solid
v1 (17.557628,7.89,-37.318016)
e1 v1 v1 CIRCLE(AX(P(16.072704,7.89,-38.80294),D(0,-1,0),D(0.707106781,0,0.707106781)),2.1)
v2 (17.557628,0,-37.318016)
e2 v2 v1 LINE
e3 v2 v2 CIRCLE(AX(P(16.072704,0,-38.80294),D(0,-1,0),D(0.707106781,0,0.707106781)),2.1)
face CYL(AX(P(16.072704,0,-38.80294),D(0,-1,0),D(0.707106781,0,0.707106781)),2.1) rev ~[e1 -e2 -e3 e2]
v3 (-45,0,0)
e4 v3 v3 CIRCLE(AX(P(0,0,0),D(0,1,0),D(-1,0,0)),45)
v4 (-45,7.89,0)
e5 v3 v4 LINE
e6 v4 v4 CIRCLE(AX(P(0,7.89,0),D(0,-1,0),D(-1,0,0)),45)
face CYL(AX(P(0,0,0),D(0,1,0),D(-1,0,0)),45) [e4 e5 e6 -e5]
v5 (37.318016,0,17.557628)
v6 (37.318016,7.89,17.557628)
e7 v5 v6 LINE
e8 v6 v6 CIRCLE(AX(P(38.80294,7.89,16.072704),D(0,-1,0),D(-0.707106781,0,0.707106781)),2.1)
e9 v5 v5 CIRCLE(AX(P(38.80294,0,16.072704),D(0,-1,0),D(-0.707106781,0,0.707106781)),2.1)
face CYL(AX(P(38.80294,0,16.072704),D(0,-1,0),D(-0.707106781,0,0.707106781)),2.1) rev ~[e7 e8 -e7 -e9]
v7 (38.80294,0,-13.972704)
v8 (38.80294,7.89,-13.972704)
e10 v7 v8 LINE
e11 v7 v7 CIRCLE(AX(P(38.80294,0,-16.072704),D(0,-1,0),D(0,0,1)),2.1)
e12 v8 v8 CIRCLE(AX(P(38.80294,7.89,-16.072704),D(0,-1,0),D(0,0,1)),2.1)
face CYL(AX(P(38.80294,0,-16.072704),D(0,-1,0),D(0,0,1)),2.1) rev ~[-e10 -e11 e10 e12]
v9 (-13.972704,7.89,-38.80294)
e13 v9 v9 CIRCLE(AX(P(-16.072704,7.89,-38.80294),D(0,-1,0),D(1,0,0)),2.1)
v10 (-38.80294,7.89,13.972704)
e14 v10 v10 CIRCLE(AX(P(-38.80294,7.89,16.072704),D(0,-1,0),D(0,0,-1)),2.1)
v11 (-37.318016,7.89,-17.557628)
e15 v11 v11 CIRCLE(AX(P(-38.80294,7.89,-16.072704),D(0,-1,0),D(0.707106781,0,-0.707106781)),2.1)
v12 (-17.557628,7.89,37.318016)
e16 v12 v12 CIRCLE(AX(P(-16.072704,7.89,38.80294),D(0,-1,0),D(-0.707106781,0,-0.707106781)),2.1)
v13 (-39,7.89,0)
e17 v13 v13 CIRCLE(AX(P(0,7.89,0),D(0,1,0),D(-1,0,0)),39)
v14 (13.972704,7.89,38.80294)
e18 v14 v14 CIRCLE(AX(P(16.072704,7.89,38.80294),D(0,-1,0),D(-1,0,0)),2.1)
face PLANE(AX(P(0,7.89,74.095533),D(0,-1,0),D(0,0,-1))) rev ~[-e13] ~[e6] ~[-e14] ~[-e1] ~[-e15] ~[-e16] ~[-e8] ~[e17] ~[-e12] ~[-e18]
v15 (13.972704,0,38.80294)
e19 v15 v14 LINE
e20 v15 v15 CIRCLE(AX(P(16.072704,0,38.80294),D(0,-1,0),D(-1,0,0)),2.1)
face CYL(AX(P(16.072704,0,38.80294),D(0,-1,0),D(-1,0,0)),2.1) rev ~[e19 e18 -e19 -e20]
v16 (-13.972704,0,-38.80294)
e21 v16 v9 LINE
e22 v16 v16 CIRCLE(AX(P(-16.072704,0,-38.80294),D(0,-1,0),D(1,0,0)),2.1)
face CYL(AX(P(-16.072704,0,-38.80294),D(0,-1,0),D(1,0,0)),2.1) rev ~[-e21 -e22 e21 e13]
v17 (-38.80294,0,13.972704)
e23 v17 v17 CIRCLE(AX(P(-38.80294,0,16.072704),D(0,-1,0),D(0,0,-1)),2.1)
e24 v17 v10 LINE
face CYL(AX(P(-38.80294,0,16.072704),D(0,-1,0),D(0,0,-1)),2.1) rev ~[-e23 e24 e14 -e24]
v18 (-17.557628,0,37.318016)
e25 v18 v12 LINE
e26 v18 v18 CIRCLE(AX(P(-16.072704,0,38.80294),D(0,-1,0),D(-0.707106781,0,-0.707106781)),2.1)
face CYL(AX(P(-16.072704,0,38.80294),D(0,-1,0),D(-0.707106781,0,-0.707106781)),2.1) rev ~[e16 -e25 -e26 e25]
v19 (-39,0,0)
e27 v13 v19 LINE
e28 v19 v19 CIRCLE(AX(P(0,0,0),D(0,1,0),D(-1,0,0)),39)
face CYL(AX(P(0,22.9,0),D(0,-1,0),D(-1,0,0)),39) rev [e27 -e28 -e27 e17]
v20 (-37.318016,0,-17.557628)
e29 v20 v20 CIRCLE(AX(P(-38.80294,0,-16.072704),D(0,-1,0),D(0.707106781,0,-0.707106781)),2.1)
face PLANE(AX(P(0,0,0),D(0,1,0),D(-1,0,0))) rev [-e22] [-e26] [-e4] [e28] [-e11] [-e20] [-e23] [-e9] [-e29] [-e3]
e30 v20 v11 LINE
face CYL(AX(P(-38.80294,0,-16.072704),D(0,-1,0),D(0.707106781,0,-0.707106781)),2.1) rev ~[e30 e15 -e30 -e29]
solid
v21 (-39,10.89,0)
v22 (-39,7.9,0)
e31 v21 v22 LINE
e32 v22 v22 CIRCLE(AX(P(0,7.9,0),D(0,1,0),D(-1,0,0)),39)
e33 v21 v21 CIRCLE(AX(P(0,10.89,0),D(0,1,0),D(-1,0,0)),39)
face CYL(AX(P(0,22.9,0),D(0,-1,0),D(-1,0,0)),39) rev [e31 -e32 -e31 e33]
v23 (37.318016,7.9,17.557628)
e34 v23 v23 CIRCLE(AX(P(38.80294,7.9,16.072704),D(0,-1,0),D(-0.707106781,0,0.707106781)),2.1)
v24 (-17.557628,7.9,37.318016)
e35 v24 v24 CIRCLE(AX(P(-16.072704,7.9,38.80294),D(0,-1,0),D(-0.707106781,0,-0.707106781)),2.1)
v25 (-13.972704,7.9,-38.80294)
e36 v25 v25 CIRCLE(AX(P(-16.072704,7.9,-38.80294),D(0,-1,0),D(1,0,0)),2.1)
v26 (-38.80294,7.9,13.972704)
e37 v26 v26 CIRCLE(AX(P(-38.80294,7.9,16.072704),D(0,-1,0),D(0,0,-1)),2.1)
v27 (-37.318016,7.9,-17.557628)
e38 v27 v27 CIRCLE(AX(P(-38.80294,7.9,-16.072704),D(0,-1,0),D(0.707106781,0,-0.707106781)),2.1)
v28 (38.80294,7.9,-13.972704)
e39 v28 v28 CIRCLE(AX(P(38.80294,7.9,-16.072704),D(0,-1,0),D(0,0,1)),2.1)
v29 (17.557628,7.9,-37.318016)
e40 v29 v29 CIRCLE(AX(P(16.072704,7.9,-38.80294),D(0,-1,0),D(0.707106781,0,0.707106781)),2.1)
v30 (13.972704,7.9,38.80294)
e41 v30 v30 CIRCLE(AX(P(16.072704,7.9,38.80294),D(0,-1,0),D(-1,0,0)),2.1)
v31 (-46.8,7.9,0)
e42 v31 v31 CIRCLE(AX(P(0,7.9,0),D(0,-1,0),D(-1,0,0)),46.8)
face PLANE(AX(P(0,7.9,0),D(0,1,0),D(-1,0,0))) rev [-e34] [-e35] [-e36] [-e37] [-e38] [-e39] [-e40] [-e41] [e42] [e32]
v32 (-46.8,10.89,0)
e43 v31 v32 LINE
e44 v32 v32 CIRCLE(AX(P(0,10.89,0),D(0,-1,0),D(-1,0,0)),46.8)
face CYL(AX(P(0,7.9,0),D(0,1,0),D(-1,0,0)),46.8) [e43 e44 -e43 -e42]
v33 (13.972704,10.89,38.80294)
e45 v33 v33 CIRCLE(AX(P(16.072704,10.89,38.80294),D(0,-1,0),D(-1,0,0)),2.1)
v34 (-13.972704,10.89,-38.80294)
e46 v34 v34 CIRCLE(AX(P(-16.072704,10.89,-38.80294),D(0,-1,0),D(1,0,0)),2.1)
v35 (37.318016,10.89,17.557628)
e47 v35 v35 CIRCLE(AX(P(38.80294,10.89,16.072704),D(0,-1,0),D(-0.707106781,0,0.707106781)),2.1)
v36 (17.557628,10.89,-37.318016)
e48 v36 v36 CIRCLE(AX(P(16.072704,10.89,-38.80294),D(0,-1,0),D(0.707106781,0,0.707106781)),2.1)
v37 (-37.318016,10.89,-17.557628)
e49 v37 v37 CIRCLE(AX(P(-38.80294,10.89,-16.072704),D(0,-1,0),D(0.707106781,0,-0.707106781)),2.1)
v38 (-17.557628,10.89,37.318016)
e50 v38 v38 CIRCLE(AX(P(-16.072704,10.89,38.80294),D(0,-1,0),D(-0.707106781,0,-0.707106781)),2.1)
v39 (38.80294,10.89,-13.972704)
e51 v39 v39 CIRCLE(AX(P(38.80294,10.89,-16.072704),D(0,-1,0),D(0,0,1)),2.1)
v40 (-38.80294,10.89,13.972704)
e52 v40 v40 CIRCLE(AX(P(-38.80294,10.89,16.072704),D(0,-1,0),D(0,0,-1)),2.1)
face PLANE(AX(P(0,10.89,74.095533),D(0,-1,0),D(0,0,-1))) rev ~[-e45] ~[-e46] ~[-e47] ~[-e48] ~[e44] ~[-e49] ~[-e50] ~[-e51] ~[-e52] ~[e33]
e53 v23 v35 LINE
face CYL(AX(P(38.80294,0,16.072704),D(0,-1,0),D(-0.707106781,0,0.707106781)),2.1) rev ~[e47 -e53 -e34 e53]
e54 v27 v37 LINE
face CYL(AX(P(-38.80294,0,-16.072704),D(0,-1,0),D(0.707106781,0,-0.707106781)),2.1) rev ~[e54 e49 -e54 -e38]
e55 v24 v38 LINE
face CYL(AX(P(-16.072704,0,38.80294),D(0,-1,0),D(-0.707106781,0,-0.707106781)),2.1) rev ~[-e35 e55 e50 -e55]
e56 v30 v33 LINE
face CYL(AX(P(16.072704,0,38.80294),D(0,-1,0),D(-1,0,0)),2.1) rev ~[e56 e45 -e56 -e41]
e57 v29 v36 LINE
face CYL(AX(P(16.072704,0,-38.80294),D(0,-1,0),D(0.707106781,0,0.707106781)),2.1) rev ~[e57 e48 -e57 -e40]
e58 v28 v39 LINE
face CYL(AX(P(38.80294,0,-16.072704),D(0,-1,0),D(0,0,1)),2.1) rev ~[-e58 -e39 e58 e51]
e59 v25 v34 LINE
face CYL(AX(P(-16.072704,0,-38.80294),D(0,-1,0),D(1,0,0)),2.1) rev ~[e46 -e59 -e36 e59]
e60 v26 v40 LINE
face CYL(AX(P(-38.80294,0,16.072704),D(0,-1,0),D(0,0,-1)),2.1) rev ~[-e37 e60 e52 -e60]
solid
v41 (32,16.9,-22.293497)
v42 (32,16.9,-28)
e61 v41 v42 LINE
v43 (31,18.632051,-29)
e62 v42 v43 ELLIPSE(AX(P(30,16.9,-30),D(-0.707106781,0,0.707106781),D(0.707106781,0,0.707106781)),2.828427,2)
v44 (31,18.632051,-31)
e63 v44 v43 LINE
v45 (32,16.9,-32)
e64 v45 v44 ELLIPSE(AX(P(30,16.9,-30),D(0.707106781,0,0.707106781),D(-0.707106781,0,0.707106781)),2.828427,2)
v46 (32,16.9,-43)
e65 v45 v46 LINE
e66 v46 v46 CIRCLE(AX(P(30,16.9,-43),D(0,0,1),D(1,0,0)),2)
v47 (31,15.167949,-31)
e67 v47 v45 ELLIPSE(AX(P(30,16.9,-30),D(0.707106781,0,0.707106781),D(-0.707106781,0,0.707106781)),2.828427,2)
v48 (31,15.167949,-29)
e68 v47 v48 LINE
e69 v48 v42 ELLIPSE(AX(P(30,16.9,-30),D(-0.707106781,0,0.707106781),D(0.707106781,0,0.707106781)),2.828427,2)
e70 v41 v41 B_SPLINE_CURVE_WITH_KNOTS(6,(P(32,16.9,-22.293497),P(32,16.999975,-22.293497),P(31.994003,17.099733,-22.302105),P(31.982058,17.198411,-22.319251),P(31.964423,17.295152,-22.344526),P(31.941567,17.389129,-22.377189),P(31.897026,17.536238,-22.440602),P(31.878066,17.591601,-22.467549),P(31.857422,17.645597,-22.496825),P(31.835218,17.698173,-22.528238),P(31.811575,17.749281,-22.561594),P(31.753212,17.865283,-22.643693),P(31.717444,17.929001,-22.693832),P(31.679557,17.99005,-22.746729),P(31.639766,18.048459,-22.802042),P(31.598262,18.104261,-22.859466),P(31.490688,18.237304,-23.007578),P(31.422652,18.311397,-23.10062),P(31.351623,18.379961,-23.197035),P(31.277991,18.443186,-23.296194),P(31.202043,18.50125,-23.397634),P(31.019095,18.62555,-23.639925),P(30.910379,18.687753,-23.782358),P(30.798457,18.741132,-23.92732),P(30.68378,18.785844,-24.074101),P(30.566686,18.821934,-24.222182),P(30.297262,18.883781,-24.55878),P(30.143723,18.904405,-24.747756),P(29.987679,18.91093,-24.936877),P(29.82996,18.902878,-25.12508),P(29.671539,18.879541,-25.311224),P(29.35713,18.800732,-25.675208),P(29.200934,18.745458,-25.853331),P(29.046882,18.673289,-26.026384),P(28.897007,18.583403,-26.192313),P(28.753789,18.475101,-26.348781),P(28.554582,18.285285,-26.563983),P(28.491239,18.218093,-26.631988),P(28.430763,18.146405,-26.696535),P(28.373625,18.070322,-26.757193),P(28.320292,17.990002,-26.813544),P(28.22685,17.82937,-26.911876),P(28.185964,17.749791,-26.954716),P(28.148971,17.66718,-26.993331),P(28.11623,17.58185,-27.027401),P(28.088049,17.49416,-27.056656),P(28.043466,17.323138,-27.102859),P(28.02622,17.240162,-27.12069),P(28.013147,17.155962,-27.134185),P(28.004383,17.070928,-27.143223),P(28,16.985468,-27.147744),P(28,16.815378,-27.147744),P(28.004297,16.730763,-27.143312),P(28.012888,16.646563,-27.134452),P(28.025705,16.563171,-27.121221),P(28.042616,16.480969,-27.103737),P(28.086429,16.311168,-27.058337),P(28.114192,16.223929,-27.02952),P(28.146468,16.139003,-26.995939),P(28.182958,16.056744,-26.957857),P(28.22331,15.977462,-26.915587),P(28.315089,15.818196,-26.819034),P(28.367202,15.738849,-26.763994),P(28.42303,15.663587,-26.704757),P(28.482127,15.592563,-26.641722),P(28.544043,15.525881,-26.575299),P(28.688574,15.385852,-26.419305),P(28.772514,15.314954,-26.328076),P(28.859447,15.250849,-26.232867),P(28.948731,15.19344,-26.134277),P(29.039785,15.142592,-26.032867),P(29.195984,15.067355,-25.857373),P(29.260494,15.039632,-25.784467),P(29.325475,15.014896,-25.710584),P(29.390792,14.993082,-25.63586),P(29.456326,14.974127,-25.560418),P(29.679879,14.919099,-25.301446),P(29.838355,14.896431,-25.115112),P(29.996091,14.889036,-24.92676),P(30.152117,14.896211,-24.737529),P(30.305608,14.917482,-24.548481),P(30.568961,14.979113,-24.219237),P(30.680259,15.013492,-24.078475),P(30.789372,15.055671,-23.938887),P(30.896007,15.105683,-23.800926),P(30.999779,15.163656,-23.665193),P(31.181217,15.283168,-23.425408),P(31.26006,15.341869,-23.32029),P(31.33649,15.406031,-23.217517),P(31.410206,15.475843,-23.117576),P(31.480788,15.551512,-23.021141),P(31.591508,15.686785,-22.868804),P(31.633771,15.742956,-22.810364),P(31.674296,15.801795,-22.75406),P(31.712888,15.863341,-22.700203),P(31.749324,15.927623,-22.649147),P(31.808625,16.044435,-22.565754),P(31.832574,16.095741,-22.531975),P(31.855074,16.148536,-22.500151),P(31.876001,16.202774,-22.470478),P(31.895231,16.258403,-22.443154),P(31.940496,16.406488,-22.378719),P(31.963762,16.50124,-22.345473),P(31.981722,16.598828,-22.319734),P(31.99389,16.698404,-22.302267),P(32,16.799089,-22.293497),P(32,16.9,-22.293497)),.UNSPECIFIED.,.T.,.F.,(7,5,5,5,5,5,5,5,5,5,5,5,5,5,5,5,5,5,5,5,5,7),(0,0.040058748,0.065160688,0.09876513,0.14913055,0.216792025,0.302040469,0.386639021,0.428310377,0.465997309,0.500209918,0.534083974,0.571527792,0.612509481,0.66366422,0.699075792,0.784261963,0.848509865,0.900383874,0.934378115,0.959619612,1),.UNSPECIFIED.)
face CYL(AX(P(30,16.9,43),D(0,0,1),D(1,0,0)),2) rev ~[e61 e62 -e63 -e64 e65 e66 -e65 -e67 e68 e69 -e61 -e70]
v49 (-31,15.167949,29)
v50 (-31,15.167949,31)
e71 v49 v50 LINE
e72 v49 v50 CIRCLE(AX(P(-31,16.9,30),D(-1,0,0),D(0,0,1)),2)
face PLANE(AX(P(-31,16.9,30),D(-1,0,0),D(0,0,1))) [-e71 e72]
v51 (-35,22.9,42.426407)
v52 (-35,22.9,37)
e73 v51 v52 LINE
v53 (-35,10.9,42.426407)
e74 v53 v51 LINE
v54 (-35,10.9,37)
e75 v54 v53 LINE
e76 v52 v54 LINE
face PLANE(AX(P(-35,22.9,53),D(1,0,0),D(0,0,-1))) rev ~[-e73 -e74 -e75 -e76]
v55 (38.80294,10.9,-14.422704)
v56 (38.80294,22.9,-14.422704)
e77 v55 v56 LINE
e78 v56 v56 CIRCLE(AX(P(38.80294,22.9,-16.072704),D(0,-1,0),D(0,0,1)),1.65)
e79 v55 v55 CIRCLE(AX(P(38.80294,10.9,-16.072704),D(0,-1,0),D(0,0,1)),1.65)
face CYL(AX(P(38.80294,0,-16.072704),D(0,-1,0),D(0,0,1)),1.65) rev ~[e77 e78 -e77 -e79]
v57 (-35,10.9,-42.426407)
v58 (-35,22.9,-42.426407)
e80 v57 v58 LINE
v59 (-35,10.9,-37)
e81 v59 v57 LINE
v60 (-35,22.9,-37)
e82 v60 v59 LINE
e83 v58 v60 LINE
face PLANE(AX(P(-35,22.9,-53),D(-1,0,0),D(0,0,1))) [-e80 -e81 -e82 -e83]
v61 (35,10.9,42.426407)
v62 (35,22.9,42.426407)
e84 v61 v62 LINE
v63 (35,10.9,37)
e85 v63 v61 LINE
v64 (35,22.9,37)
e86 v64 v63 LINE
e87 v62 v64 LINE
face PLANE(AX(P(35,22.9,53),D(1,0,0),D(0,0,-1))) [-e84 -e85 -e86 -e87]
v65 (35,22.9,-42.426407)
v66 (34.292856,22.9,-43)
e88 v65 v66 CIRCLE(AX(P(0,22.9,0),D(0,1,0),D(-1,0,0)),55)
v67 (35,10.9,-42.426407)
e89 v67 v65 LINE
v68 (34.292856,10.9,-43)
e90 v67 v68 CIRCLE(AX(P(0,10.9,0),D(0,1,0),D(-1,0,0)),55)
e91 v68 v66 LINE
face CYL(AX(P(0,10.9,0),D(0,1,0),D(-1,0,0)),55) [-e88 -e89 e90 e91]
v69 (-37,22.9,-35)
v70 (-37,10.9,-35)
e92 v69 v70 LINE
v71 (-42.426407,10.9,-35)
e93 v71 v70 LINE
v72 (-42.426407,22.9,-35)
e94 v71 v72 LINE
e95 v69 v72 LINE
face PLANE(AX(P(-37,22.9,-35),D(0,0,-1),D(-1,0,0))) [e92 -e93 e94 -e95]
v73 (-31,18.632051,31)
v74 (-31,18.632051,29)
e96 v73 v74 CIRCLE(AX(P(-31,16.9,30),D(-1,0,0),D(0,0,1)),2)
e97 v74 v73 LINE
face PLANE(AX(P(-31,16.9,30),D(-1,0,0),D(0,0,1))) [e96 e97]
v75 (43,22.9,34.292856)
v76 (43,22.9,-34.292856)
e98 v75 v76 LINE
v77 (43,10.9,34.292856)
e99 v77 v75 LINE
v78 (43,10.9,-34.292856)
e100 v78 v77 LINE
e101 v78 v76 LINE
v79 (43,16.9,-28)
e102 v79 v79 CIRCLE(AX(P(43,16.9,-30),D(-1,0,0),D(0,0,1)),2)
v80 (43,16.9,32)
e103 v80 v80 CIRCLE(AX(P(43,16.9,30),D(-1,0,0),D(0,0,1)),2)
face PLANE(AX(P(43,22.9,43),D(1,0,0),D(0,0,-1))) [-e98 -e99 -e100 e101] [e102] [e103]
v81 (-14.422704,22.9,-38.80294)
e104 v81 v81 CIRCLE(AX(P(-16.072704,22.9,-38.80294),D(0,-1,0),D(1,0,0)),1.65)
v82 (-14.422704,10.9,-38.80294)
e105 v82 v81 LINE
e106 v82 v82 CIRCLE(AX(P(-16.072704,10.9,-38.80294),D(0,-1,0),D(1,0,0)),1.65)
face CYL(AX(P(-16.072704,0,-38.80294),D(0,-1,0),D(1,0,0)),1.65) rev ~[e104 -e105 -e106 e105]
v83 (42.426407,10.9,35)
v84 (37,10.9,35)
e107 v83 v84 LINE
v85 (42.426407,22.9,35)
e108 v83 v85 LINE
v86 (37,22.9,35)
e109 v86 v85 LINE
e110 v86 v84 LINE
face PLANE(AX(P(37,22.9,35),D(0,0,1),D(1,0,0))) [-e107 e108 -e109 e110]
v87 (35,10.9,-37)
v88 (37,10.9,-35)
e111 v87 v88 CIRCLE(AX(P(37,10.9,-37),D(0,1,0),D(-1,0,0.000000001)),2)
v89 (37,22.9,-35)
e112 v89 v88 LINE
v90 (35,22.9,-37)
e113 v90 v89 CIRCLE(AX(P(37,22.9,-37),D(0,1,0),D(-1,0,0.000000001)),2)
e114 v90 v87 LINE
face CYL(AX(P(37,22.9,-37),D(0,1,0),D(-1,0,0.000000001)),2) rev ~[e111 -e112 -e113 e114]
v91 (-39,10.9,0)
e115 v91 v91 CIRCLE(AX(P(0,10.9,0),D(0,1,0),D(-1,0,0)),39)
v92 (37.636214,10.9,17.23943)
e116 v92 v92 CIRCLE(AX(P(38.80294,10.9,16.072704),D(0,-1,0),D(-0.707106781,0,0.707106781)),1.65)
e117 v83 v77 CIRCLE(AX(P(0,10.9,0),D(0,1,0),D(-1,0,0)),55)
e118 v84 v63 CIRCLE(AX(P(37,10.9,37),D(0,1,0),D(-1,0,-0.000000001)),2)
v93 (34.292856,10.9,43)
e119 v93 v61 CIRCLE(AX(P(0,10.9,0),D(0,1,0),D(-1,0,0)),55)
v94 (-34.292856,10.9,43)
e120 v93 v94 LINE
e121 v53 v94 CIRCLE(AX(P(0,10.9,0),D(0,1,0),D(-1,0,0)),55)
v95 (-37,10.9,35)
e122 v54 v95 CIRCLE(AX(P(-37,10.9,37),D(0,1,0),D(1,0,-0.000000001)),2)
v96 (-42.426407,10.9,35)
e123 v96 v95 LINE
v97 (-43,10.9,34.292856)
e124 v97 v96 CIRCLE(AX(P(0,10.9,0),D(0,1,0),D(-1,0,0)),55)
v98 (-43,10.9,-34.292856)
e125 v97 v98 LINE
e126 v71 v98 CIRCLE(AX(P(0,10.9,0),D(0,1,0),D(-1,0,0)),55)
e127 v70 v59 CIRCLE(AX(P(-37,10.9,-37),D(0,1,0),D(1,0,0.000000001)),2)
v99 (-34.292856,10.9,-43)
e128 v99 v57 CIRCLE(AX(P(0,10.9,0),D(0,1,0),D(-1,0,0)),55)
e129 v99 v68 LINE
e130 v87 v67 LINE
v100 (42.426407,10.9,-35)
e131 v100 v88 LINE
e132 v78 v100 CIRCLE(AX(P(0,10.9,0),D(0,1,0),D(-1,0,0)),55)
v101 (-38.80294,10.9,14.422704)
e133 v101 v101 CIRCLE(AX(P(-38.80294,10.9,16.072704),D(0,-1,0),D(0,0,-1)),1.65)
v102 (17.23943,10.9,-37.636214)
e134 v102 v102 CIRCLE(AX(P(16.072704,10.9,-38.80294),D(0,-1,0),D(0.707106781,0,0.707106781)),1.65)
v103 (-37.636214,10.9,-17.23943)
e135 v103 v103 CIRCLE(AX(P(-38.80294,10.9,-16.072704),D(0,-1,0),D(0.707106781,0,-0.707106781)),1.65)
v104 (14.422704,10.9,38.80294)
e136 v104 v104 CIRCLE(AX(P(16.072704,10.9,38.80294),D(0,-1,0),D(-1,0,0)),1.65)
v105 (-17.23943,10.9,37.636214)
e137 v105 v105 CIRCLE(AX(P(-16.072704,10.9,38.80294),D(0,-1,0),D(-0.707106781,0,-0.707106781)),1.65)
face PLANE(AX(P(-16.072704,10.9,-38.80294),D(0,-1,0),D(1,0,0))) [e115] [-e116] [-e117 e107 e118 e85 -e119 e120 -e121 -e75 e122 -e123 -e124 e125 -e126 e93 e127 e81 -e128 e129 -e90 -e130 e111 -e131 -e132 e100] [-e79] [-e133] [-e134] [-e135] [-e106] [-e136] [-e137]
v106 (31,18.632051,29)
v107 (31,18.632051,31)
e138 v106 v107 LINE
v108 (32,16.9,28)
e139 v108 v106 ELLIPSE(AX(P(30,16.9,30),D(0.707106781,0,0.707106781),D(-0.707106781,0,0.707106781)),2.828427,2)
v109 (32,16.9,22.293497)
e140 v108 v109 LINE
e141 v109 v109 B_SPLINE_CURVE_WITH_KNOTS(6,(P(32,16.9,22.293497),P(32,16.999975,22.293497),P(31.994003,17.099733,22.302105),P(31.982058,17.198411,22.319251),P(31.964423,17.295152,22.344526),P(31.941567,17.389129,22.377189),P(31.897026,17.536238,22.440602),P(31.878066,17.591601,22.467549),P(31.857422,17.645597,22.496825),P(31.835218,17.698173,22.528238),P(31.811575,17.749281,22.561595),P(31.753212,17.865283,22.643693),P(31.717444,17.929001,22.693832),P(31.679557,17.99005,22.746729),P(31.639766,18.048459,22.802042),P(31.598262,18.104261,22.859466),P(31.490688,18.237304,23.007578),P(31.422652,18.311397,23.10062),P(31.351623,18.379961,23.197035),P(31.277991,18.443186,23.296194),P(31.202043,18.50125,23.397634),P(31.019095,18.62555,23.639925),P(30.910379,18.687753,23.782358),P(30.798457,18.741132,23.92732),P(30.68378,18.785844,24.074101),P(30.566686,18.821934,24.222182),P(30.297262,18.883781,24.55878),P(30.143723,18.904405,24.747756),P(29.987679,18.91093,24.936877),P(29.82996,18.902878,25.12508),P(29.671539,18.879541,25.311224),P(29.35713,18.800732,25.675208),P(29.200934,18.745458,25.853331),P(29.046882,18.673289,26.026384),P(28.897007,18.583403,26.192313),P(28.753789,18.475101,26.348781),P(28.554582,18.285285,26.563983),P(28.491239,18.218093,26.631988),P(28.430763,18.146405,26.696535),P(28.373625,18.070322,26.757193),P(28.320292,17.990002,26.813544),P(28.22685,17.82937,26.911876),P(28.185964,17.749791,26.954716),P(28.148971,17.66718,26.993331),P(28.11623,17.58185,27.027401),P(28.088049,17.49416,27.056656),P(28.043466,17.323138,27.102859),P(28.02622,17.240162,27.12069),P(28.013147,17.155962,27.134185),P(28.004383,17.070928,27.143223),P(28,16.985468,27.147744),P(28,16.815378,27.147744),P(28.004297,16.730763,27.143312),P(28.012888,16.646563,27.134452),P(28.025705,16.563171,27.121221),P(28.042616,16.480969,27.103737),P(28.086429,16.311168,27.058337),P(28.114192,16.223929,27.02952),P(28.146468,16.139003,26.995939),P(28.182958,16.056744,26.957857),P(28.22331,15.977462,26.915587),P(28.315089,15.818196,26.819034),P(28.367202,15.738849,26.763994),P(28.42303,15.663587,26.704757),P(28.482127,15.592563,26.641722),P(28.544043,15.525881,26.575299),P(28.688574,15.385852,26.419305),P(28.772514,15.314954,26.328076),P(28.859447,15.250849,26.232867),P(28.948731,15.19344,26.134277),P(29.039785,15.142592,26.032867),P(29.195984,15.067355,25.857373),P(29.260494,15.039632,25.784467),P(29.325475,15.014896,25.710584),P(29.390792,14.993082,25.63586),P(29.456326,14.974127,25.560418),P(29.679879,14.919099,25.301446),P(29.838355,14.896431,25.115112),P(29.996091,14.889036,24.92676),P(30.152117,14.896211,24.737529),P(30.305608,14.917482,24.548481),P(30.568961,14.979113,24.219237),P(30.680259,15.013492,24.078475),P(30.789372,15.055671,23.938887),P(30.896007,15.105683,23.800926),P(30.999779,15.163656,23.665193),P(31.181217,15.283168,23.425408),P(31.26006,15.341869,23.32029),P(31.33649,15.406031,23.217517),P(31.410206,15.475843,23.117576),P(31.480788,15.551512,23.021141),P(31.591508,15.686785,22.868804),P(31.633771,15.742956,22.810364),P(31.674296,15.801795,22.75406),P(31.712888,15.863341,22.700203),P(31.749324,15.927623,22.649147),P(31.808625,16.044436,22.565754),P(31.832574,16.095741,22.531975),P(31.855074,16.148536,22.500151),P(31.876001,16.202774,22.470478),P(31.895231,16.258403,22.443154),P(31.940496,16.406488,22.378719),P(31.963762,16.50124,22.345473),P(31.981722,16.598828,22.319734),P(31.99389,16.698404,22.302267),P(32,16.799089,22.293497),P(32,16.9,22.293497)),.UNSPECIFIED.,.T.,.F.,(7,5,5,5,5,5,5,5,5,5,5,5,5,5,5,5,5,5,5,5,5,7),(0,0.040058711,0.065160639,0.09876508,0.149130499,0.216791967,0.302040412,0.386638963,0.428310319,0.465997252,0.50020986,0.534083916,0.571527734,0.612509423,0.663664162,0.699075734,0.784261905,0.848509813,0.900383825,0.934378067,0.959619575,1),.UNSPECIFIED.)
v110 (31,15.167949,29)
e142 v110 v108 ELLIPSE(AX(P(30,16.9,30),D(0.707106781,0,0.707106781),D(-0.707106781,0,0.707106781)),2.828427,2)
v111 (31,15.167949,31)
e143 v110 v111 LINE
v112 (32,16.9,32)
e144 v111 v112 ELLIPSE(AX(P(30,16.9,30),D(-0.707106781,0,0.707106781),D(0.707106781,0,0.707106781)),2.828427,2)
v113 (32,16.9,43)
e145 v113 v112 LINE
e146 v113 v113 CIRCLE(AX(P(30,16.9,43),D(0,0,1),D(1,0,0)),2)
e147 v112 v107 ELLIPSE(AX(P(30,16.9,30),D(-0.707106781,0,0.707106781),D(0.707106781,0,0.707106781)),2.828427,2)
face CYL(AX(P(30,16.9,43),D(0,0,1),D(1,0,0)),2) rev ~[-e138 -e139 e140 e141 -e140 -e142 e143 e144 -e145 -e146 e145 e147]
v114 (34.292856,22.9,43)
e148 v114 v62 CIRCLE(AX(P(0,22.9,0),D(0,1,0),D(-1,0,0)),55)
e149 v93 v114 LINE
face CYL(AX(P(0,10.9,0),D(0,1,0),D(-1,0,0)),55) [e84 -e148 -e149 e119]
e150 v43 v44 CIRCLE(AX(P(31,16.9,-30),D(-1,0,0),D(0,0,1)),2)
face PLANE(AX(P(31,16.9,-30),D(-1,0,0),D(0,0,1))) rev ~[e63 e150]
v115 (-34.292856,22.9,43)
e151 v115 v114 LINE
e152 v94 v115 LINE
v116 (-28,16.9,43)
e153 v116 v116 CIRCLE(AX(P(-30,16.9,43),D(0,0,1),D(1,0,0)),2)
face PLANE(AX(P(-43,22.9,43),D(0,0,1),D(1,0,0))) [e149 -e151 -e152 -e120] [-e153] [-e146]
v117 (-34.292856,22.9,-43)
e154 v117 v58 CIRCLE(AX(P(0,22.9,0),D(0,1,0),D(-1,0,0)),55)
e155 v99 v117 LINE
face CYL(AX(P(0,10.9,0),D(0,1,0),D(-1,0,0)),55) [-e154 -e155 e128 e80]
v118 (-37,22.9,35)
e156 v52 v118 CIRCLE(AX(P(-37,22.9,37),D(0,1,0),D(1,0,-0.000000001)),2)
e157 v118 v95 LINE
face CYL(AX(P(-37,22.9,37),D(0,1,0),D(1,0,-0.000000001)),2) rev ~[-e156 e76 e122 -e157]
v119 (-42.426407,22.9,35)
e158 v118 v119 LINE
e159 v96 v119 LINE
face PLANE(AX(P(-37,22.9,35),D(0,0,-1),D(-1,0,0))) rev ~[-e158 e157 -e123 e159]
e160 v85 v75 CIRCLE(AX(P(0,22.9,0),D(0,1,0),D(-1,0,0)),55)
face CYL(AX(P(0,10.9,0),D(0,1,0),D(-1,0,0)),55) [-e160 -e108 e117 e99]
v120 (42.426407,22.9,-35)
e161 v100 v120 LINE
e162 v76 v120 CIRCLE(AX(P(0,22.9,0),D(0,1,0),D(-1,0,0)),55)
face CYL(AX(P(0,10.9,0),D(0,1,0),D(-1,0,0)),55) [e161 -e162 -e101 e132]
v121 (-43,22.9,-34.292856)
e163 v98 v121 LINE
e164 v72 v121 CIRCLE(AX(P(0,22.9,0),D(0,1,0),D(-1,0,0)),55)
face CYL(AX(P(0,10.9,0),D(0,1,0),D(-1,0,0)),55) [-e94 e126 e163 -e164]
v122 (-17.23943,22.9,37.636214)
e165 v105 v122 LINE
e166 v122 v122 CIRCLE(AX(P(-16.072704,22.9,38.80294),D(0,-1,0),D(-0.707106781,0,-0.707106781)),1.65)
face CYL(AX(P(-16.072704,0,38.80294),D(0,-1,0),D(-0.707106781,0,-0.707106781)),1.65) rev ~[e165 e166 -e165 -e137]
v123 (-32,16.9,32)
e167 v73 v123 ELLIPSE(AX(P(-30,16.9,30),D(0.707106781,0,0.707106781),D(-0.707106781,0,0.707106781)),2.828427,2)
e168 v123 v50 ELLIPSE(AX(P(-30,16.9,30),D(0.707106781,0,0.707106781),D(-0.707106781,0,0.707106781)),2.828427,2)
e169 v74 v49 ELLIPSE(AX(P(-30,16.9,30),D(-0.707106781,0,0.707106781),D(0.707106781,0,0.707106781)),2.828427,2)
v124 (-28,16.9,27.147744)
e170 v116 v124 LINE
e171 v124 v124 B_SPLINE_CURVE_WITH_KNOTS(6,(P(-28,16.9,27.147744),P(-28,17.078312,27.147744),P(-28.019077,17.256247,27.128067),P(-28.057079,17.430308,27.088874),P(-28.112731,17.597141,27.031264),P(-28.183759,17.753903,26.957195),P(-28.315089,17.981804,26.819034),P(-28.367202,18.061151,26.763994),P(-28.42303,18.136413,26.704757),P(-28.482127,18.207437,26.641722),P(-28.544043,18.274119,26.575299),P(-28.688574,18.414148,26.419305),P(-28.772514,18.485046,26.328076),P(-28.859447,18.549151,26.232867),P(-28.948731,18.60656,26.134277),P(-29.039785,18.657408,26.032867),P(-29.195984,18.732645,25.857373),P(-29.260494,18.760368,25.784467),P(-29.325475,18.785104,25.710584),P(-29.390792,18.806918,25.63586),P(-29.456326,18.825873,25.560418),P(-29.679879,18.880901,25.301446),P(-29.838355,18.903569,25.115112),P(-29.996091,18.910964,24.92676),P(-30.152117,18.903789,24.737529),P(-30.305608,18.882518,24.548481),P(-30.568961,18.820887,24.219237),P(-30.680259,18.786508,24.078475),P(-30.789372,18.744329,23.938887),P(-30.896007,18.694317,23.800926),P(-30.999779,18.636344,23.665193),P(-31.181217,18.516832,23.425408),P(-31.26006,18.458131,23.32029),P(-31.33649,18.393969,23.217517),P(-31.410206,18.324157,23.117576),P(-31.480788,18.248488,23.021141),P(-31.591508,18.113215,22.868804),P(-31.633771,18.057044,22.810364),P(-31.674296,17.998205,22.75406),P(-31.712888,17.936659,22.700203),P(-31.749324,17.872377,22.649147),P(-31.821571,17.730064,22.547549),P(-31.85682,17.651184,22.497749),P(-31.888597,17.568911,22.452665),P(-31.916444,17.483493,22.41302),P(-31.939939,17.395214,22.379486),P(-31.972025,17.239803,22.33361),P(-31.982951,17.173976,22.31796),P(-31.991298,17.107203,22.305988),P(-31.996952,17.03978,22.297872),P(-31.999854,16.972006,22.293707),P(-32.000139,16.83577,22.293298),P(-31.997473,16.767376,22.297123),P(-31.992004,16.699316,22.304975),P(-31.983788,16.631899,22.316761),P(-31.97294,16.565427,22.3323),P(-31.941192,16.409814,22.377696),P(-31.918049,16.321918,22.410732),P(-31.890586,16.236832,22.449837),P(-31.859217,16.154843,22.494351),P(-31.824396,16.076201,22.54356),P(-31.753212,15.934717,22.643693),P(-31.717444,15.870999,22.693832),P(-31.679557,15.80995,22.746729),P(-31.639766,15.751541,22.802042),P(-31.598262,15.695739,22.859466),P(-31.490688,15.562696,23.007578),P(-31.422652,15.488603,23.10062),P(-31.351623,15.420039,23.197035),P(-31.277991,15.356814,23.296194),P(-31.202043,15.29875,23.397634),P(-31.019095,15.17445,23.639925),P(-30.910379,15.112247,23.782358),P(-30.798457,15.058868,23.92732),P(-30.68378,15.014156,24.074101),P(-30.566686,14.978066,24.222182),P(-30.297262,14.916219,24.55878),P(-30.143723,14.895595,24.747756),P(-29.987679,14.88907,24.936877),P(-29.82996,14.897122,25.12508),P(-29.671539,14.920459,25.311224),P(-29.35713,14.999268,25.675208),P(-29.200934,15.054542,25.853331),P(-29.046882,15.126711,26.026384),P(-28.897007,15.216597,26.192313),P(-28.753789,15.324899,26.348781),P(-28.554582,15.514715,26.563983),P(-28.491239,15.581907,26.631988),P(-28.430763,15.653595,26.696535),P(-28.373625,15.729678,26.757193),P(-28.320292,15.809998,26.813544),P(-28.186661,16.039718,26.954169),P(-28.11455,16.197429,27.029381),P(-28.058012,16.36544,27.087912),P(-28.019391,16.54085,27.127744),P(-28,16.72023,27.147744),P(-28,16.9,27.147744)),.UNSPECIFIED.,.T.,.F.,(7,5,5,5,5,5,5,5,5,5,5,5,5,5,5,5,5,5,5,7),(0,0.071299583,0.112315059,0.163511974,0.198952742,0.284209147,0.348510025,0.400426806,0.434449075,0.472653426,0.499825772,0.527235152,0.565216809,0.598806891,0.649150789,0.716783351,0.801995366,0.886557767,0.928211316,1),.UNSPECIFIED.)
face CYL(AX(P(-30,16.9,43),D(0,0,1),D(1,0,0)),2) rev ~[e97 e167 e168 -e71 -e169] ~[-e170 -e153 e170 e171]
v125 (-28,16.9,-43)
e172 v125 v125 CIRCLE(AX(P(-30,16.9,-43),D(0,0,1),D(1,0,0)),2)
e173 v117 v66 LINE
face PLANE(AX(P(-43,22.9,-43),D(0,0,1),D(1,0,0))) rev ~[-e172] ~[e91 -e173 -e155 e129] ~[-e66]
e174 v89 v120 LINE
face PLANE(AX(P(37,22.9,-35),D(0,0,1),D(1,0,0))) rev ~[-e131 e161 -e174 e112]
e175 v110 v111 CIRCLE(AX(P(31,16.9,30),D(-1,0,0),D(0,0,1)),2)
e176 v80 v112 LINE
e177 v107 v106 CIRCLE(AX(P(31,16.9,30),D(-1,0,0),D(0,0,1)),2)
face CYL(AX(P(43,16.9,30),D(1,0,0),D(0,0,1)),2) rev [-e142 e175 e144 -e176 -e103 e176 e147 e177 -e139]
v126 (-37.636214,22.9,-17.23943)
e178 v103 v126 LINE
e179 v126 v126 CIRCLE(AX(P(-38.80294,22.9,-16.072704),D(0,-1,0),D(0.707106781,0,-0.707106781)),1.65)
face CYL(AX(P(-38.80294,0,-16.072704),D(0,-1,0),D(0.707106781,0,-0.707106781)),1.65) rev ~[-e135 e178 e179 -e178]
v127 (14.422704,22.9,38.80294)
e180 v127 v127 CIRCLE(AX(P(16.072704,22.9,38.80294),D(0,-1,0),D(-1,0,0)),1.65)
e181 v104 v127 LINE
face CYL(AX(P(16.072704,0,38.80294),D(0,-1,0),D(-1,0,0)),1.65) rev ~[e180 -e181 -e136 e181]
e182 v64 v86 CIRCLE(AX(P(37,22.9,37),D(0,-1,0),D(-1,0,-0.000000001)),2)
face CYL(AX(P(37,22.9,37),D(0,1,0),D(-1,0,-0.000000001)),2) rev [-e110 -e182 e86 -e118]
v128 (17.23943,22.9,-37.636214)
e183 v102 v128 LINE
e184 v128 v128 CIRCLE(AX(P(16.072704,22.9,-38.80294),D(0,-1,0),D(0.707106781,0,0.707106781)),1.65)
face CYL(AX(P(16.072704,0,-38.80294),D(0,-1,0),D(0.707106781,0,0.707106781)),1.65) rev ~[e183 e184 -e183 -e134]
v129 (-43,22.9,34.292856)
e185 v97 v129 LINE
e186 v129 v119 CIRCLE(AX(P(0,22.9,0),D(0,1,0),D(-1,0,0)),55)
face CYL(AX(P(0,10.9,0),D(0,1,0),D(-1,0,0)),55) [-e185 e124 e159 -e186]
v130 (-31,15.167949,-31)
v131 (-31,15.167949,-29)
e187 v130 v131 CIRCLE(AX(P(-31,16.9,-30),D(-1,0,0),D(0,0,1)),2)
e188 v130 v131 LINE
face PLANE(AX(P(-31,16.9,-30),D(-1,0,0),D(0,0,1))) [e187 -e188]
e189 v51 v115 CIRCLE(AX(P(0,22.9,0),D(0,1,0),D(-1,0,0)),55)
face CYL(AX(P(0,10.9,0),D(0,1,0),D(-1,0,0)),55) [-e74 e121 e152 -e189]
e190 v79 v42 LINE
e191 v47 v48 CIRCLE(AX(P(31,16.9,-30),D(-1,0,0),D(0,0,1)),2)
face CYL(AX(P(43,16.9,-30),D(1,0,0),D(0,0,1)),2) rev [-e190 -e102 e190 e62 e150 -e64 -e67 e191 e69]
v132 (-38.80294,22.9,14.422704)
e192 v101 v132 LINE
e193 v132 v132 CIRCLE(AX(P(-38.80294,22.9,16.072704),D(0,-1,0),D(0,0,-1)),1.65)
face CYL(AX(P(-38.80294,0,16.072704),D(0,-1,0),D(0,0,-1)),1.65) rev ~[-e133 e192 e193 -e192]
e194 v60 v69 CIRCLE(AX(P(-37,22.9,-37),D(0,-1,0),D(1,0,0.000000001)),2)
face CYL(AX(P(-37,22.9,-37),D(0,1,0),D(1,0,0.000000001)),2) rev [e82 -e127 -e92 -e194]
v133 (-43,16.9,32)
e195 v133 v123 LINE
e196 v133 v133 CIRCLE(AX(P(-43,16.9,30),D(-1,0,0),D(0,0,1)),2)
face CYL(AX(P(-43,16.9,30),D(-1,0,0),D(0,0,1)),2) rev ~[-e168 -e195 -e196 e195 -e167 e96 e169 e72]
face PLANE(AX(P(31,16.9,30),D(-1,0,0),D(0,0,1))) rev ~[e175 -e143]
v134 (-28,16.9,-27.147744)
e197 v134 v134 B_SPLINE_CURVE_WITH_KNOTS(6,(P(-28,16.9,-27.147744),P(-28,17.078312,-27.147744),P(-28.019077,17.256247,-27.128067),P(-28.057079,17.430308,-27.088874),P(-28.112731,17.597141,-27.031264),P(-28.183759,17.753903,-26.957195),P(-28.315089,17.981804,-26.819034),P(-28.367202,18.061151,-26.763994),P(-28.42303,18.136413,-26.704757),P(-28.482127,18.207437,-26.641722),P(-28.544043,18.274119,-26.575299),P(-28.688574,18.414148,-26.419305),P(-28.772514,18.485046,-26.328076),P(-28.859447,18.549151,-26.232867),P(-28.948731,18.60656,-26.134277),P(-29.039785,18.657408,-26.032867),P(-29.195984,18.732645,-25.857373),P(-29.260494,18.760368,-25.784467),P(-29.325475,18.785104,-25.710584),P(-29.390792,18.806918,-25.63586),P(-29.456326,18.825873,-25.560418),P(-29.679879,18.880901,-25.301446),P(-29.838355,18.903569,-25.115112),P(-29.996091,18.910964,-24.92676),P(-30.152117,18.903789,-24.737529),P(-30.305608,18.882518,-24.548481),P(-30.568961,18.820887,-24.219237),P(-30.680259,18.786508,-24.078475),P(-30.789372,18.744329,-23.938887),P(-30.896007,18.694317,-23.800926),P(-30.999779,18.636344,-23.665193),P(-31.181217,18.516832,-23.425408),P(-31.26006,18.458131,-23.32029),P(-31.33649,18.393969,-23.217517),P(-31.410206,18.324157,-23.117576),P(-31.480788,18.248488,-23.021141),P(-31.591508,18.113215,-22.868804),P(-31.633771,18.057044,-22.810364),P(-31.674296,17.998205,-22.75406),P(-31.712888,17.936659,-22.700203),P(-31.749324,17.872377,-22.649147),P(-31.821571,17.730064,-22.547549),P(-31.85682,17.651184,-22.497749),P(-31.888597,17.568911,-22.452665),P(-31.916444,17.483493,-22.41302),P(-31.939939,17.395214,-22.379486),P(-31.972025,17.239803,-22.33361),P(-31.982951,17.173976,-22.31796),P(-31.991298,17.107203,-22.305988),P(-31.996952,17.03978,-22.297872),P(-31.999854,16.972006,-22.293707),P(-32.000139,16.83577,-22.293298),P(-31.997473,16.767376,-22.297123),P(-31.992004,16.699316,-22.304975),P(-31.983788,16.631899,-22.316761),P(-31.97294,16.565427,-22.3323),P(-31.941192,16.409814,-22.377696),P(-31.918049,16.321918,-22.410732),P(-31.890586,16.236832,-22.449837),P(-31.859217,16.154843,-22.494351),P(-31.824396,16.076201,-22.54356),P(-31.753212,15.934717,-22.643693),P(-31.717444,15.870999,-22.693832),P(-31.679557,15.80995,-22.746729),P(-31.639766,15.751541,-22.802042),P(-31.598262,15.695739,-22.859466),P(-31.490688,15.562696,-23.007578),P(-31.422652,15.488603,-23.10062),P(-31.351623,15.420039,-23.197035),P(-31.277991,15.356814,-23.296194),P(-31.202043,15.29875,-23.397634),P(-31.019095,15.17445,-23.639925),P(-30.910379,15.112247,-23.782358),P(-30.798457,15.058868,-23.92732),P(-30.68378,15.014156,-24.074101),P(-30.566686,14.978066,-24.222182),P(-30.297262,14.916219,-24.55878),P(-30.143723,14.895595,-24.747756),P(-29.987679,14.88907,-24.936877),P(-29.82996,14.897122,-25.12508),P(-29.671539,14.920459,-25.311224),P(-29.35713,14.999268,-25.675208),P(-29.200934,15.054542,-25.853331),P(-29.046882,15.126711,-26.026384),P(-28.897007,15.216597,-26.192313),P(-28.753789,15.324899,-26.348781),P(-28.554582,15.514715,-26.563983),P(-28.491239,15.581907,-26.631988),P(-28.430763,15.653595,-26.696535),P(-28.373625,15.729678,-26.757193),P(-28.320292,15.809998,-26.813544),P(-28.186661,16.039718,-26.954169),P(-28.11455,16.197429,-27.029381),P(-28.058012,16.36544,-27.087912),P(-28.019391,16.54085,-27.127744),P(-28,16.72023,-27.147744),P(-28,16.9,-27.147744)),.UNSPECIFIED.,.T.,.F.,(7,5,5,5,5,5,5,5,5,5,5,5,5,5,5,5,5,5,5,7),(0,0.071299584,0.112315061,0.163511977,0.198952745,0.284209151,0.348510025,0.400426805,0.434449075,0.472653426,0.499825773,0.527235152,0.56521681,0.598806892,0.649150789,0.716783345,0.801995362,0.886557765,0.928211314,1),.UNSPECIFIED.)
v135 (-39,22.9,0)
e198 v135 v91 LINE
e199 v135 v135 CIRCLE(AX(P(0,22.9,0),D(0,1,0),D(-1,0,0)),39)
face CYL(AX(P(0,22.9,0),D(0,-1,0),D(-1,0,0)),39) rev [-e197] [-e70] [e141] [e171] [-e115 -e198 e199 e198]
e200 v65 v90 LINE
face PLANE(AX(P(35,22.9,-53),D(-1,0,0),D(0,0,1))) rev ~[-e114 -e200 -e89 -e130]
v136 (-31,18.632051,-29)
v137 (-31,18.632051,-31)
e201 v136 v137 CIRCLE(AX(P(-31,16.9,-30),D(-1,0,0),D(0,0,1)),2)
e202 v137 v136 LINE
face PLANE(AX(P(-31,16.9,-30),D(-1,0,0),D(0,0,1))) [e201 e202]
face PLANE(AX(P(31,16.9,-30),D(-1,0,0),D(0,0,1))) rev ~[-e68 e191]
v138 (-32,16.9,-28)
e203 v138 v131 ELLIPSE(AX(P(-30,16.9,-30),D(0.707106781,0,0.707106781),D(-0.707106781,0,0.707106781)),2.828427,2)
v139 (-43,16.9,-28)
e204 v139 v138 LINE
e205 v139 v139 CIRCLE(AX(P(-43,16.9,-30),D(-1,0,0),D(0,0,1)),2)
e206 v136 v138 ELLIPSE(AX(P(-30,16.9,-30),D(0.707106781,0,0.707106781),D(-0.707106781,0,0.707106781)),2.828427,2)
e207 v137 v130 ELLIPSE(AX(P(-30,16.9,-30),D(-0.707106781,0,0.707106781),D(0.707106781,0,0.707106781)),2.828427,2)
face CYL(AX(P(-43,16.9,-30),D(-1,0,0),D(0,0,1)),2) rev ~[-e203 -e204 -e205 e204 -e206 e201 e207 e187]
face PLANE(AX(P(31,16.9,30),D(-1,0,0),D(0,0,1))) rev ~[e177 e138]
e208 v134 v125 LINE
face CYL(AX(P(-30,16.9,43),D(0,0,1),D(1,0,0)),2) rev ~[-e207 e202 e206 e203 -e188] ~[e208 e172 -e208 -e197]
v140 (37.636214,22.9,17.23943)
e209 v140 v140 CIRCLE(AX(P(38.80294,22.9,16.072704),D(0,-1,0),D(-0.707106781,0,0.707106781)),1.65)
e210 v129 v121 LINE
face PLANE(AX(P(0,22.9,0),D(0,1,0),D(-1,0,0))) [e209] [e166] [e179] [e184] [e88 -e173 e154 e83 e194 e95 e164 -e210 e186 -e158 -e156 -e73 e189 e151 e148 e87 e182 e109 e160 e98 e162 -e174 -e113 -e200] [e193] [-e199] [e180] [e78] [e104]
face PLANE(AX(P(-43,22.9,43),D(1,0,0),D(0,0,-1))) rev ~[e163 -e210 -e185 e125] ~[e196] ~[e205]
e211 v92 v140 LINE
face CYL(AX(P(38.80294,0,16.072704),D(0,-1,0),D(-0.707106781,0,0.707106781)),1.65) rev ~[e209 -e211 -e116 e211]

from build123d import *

# Parameters (mm, degrees)
SKETCH_2_OUTSIDE_W          = 143.448
SKETCH_2_OUTSIDE_H          = 143.448
SKETCH_2_OUTSIDE_W_2        = 86
SKETCH_2_OUTSIDE_H_2        = 86
CUT_EXTRUDE_1_DEPTH         = 12
SKETCH_4_R                  = 2
CUT_EXTRUDE_3_DEPTH         = 90.8
SKETCH_5_R                  = 2
CUT_EXTRUDE_4_DEPTH         = 12
CUT_EXTRUDE_START           = -86
SKETCH_5_2_R                = 2
CUT_EXTRUDE_5_DEPTH         = 12
SKETCH_6_R                  = 1.65
CUT_EXTRUDE_6_DEPTH         = 100
SKETCH_10_R                 = 2.1
CUT_EXTRUDE_8_DEPTH         = 10.9
PATTERN_CIRCULAR_1_COUNT    = 8
CUT_EXTRUDE_7_DEPTH         = 20
SKETCH_11_W                 = 136.197392648
SKETCH_11_H                 = 0.01
CUT_EXTRUDE_3326_DEPTH      = 47.8
CUT_EXTRUDE_3326_DEPTH_BACK = 47.8


with BuildPart() as part:
    # 草图1 → 旋转1 (revolve)
    with BuildSketch(Plane.XY):
        Polygon((-39, 0), (-45, 0), (-45, 7.9), (-46.8, 7.9), (-46.8, 10.9), (-55, 10.9), (-55, 22.9), (-39, 22.9), align=None)
    revolve(axis=Axis((0, 0, 0), (0, 1, 0)))

    # 草图2 outside → 切除-拉伸1 (cut)
    with BuildSketch(Plane(origin=(0, 22.9, 0), x_dir=(1, 0, 0), z_dir=(0, 1, 0))):
        Rectangle(SKETCH_2_OUTSIDE_W, SKETCH_2_OUTSIDE_H)
        Rectangle(SKETCH_2_OUTSIDE_W_2, SKETCH_2_OUTSIDE_H_2, mode=Mode.SUBTRACT)
    extrude(amount=-CUT_EXTRUDE_1_DEPTH, mode=Mode.SUBTRACT)

    # 草图4 → 切除-拉伸3 (cut, through all)
    with BuildSketch(Plane.XY.offset(43)):
        with Locations((-30, 16.9)):
            Circle(SKETCH_4_R)
        with Locations((30, 16.9)):
            Circle(SKETCH_4_R)
    extrude(amount=-CUT_EXTRUDE_3_DEPTH, mode=Mode.SUBTRACT)

    # 草图5 → 切除-拉伸4 (cut)
    with BuildSketch(Plane.ZY.offset(43)):
        with Locations((-30, 16.9)):
            Circle(SKETCH_5_R)
        with Locations((30, 16.9)):
            Circle(SKETCH_5_R)
    extrude(amount=-CUT_EXTRUDE_4_DEPTH, mode=Mode.SUBTRACT)

    # 草图5<2> → 切除-拉伸5 (cut)
    with BuildSketch(Plane.ZY.offset(43).offset(CUT_EXTRUDE_START)):
        with Locations((-30, 16.9)):
            Circle(SKETCH_5_2_R)
        with Locations((30, 16.9)):
            Circle(SKETCH_5_2_R)
    extrude(amount=CUT_EXTRUDE_5_DEPTH, mode=Mode.SUBTRACT)

    # 草图6 → 切除-拉伸6 (cut)
    with BuildSketch(Plane.XZ):
        with Locations((-16.072704159, -38.802940365)):
            Circle(SKETCH_6_R)
    cut_extrude_6 = extrude(amount=-CUT_EXTRUDE_6_DEPTH, mode=Mode.SUBTRACT)

    # 草图10 → 切除-拉伸8 (cut)
    with BuildSketch(Plane.XZ):
        with Locations((-16.072704159, -38.802940365)):
            Circle(SKETCH_10_R)
    cut_extrude_8 = extrude(amount=-CUT_EXTRUDE_8_DEPTH, mode=Mode.SUBTRACT)

    # 阵列(圆周)1: 切除-拉伸6, 切除-拉伸8 ×8 about axis
    pattern_circular_1_axis = Axis((0, 0, 0), (0, 1, 0))
    for i in range(1, PATTERN_CIRCULAR_1_COUNT):
        add(cut_extrude_6.rotate(pattern_circular_1_axis, i * 360 / PATTERN_CIRCULAR_1_COUNT), mode=Mode.SUBTRACT)
        add(cut_extrude_8.rotate(pattern_circular_1_axis, i * 360 / PATTERN_CIRCULAR_1_COUNT), mode=Mode.SUBTRACT)

    # 草图7 → 切除-拉伸7 (cut)
    with BuildSketch(Plane(origin=(0, 22.9, 0), x_dir=(1, 0, 0), z_dir=(0, 1, 0))):
        with BuildLine():
            Line((-37, 35), (-53, 35))
            ThreePointArc((-53, 35), (-54.414213562, 35.585786438), (-55, 37))
            Line((-55, 37), (-55, 53))
            ThreePointArc((-55, 53), (-54.414213562, 54.414213562), (-53, 55))
            Line((-53, 55), (-37, 55))
            ThreePointArc((-37, 55), (-35.585786438, 54.414213562), (-35, 53))
            Line((-35, 53), (-35, 37))
            ThreePointArc((-35, 37), (-35.585786438, 35.585786438), (-37, 35))
        make_face()
        with BuildLine():
            Line((37, 35), (53, 35))
            ThreePointArc((53, 35), (54.414213562, 35.585786438), (55, 37))
            Line((55, 37), (55, 53))
            ThreePointArc((55, 53), (54.414213562, 54.414213562), (53, 55))
            Line((53, 55), (37, 55))
            ThreePointArc((37, 55), (35.585786438, 54.414213562), (35, 53))
            Line((35, 53), (35, 37))
            ThreePointArc((35, 37), (35.585786438, 35.585786438), (37, 35))
        make_face()
        with BuildLine():
            Line((37, -35), (53, -35))
            ThreePointArc((53, -35), (54.414213562, -35.585786438), (55, -37))
            Line((55, -37), (55, -53))
            ThreePointArc((55, -53), (54.414213562, -54.414213562), (53, -55))
            Line((53, -55), (37, -55))
            ThreePointArc((37, -55), (35.585786438, -54.414213562), (35, -53))
            Line((35, -53), (35, -37))
            ThreePointArc((35, -37), (35.585786438, -35.585786438), (37, -35))
        make_face()
        with BuildLine():
            Line((-37, -35), (-53, -35))
            ThreePointArc((-53, -35), (-54.414213562, -35.585786438), (-55, -37))
            Line((-55, -37), (-55, -53))
            ThreePointArc((-55, -53), (-54.414213562, -54.414213562), (-53, -55))
            Line((-53, -55), (-37, -55))
            ThreePointArc((-37, -55), (-35.585786438, -54.414213562), (-35, -53))
            Line((-35, -53), (-35, -37))
            ThreePointArc((-35, -37), (-35.585786438, -35.585786438), (-37, -35))
        make_face()
    extrude(amount=-CUT_EXTRUDE_7_DEPTH, mode=Mode.SUBTRACT)

    # 草图11 → Cut-Extrude 3326 (cut, two sides)
    with BuildSketch(Plane(origin=(0, 0, 0), x_dir=(0, 0, -1), z_dir=(1, 0, 0))) as cut_extrude_3326_sk:
        with Locations((-5.996836933, 7.895)):
            Rectangle(SKETCH_11_W, SKETCH_11_H)
        with Locations((-5.996836933, 10.895)):
            Rectangle(SKETCH_11_W, SKETCH_11_H)
    extrude(amount=CUT_EXTRUDE_3326_DEPTH, mode=Mode.SUBTRACT)
    extrude(cut_extrude_3326_sk.sketch, amount=-CUT_EXTRUDE_3326_DEPTH_BACK, mode=Mode.SUBTRACT)


solid = part.part
